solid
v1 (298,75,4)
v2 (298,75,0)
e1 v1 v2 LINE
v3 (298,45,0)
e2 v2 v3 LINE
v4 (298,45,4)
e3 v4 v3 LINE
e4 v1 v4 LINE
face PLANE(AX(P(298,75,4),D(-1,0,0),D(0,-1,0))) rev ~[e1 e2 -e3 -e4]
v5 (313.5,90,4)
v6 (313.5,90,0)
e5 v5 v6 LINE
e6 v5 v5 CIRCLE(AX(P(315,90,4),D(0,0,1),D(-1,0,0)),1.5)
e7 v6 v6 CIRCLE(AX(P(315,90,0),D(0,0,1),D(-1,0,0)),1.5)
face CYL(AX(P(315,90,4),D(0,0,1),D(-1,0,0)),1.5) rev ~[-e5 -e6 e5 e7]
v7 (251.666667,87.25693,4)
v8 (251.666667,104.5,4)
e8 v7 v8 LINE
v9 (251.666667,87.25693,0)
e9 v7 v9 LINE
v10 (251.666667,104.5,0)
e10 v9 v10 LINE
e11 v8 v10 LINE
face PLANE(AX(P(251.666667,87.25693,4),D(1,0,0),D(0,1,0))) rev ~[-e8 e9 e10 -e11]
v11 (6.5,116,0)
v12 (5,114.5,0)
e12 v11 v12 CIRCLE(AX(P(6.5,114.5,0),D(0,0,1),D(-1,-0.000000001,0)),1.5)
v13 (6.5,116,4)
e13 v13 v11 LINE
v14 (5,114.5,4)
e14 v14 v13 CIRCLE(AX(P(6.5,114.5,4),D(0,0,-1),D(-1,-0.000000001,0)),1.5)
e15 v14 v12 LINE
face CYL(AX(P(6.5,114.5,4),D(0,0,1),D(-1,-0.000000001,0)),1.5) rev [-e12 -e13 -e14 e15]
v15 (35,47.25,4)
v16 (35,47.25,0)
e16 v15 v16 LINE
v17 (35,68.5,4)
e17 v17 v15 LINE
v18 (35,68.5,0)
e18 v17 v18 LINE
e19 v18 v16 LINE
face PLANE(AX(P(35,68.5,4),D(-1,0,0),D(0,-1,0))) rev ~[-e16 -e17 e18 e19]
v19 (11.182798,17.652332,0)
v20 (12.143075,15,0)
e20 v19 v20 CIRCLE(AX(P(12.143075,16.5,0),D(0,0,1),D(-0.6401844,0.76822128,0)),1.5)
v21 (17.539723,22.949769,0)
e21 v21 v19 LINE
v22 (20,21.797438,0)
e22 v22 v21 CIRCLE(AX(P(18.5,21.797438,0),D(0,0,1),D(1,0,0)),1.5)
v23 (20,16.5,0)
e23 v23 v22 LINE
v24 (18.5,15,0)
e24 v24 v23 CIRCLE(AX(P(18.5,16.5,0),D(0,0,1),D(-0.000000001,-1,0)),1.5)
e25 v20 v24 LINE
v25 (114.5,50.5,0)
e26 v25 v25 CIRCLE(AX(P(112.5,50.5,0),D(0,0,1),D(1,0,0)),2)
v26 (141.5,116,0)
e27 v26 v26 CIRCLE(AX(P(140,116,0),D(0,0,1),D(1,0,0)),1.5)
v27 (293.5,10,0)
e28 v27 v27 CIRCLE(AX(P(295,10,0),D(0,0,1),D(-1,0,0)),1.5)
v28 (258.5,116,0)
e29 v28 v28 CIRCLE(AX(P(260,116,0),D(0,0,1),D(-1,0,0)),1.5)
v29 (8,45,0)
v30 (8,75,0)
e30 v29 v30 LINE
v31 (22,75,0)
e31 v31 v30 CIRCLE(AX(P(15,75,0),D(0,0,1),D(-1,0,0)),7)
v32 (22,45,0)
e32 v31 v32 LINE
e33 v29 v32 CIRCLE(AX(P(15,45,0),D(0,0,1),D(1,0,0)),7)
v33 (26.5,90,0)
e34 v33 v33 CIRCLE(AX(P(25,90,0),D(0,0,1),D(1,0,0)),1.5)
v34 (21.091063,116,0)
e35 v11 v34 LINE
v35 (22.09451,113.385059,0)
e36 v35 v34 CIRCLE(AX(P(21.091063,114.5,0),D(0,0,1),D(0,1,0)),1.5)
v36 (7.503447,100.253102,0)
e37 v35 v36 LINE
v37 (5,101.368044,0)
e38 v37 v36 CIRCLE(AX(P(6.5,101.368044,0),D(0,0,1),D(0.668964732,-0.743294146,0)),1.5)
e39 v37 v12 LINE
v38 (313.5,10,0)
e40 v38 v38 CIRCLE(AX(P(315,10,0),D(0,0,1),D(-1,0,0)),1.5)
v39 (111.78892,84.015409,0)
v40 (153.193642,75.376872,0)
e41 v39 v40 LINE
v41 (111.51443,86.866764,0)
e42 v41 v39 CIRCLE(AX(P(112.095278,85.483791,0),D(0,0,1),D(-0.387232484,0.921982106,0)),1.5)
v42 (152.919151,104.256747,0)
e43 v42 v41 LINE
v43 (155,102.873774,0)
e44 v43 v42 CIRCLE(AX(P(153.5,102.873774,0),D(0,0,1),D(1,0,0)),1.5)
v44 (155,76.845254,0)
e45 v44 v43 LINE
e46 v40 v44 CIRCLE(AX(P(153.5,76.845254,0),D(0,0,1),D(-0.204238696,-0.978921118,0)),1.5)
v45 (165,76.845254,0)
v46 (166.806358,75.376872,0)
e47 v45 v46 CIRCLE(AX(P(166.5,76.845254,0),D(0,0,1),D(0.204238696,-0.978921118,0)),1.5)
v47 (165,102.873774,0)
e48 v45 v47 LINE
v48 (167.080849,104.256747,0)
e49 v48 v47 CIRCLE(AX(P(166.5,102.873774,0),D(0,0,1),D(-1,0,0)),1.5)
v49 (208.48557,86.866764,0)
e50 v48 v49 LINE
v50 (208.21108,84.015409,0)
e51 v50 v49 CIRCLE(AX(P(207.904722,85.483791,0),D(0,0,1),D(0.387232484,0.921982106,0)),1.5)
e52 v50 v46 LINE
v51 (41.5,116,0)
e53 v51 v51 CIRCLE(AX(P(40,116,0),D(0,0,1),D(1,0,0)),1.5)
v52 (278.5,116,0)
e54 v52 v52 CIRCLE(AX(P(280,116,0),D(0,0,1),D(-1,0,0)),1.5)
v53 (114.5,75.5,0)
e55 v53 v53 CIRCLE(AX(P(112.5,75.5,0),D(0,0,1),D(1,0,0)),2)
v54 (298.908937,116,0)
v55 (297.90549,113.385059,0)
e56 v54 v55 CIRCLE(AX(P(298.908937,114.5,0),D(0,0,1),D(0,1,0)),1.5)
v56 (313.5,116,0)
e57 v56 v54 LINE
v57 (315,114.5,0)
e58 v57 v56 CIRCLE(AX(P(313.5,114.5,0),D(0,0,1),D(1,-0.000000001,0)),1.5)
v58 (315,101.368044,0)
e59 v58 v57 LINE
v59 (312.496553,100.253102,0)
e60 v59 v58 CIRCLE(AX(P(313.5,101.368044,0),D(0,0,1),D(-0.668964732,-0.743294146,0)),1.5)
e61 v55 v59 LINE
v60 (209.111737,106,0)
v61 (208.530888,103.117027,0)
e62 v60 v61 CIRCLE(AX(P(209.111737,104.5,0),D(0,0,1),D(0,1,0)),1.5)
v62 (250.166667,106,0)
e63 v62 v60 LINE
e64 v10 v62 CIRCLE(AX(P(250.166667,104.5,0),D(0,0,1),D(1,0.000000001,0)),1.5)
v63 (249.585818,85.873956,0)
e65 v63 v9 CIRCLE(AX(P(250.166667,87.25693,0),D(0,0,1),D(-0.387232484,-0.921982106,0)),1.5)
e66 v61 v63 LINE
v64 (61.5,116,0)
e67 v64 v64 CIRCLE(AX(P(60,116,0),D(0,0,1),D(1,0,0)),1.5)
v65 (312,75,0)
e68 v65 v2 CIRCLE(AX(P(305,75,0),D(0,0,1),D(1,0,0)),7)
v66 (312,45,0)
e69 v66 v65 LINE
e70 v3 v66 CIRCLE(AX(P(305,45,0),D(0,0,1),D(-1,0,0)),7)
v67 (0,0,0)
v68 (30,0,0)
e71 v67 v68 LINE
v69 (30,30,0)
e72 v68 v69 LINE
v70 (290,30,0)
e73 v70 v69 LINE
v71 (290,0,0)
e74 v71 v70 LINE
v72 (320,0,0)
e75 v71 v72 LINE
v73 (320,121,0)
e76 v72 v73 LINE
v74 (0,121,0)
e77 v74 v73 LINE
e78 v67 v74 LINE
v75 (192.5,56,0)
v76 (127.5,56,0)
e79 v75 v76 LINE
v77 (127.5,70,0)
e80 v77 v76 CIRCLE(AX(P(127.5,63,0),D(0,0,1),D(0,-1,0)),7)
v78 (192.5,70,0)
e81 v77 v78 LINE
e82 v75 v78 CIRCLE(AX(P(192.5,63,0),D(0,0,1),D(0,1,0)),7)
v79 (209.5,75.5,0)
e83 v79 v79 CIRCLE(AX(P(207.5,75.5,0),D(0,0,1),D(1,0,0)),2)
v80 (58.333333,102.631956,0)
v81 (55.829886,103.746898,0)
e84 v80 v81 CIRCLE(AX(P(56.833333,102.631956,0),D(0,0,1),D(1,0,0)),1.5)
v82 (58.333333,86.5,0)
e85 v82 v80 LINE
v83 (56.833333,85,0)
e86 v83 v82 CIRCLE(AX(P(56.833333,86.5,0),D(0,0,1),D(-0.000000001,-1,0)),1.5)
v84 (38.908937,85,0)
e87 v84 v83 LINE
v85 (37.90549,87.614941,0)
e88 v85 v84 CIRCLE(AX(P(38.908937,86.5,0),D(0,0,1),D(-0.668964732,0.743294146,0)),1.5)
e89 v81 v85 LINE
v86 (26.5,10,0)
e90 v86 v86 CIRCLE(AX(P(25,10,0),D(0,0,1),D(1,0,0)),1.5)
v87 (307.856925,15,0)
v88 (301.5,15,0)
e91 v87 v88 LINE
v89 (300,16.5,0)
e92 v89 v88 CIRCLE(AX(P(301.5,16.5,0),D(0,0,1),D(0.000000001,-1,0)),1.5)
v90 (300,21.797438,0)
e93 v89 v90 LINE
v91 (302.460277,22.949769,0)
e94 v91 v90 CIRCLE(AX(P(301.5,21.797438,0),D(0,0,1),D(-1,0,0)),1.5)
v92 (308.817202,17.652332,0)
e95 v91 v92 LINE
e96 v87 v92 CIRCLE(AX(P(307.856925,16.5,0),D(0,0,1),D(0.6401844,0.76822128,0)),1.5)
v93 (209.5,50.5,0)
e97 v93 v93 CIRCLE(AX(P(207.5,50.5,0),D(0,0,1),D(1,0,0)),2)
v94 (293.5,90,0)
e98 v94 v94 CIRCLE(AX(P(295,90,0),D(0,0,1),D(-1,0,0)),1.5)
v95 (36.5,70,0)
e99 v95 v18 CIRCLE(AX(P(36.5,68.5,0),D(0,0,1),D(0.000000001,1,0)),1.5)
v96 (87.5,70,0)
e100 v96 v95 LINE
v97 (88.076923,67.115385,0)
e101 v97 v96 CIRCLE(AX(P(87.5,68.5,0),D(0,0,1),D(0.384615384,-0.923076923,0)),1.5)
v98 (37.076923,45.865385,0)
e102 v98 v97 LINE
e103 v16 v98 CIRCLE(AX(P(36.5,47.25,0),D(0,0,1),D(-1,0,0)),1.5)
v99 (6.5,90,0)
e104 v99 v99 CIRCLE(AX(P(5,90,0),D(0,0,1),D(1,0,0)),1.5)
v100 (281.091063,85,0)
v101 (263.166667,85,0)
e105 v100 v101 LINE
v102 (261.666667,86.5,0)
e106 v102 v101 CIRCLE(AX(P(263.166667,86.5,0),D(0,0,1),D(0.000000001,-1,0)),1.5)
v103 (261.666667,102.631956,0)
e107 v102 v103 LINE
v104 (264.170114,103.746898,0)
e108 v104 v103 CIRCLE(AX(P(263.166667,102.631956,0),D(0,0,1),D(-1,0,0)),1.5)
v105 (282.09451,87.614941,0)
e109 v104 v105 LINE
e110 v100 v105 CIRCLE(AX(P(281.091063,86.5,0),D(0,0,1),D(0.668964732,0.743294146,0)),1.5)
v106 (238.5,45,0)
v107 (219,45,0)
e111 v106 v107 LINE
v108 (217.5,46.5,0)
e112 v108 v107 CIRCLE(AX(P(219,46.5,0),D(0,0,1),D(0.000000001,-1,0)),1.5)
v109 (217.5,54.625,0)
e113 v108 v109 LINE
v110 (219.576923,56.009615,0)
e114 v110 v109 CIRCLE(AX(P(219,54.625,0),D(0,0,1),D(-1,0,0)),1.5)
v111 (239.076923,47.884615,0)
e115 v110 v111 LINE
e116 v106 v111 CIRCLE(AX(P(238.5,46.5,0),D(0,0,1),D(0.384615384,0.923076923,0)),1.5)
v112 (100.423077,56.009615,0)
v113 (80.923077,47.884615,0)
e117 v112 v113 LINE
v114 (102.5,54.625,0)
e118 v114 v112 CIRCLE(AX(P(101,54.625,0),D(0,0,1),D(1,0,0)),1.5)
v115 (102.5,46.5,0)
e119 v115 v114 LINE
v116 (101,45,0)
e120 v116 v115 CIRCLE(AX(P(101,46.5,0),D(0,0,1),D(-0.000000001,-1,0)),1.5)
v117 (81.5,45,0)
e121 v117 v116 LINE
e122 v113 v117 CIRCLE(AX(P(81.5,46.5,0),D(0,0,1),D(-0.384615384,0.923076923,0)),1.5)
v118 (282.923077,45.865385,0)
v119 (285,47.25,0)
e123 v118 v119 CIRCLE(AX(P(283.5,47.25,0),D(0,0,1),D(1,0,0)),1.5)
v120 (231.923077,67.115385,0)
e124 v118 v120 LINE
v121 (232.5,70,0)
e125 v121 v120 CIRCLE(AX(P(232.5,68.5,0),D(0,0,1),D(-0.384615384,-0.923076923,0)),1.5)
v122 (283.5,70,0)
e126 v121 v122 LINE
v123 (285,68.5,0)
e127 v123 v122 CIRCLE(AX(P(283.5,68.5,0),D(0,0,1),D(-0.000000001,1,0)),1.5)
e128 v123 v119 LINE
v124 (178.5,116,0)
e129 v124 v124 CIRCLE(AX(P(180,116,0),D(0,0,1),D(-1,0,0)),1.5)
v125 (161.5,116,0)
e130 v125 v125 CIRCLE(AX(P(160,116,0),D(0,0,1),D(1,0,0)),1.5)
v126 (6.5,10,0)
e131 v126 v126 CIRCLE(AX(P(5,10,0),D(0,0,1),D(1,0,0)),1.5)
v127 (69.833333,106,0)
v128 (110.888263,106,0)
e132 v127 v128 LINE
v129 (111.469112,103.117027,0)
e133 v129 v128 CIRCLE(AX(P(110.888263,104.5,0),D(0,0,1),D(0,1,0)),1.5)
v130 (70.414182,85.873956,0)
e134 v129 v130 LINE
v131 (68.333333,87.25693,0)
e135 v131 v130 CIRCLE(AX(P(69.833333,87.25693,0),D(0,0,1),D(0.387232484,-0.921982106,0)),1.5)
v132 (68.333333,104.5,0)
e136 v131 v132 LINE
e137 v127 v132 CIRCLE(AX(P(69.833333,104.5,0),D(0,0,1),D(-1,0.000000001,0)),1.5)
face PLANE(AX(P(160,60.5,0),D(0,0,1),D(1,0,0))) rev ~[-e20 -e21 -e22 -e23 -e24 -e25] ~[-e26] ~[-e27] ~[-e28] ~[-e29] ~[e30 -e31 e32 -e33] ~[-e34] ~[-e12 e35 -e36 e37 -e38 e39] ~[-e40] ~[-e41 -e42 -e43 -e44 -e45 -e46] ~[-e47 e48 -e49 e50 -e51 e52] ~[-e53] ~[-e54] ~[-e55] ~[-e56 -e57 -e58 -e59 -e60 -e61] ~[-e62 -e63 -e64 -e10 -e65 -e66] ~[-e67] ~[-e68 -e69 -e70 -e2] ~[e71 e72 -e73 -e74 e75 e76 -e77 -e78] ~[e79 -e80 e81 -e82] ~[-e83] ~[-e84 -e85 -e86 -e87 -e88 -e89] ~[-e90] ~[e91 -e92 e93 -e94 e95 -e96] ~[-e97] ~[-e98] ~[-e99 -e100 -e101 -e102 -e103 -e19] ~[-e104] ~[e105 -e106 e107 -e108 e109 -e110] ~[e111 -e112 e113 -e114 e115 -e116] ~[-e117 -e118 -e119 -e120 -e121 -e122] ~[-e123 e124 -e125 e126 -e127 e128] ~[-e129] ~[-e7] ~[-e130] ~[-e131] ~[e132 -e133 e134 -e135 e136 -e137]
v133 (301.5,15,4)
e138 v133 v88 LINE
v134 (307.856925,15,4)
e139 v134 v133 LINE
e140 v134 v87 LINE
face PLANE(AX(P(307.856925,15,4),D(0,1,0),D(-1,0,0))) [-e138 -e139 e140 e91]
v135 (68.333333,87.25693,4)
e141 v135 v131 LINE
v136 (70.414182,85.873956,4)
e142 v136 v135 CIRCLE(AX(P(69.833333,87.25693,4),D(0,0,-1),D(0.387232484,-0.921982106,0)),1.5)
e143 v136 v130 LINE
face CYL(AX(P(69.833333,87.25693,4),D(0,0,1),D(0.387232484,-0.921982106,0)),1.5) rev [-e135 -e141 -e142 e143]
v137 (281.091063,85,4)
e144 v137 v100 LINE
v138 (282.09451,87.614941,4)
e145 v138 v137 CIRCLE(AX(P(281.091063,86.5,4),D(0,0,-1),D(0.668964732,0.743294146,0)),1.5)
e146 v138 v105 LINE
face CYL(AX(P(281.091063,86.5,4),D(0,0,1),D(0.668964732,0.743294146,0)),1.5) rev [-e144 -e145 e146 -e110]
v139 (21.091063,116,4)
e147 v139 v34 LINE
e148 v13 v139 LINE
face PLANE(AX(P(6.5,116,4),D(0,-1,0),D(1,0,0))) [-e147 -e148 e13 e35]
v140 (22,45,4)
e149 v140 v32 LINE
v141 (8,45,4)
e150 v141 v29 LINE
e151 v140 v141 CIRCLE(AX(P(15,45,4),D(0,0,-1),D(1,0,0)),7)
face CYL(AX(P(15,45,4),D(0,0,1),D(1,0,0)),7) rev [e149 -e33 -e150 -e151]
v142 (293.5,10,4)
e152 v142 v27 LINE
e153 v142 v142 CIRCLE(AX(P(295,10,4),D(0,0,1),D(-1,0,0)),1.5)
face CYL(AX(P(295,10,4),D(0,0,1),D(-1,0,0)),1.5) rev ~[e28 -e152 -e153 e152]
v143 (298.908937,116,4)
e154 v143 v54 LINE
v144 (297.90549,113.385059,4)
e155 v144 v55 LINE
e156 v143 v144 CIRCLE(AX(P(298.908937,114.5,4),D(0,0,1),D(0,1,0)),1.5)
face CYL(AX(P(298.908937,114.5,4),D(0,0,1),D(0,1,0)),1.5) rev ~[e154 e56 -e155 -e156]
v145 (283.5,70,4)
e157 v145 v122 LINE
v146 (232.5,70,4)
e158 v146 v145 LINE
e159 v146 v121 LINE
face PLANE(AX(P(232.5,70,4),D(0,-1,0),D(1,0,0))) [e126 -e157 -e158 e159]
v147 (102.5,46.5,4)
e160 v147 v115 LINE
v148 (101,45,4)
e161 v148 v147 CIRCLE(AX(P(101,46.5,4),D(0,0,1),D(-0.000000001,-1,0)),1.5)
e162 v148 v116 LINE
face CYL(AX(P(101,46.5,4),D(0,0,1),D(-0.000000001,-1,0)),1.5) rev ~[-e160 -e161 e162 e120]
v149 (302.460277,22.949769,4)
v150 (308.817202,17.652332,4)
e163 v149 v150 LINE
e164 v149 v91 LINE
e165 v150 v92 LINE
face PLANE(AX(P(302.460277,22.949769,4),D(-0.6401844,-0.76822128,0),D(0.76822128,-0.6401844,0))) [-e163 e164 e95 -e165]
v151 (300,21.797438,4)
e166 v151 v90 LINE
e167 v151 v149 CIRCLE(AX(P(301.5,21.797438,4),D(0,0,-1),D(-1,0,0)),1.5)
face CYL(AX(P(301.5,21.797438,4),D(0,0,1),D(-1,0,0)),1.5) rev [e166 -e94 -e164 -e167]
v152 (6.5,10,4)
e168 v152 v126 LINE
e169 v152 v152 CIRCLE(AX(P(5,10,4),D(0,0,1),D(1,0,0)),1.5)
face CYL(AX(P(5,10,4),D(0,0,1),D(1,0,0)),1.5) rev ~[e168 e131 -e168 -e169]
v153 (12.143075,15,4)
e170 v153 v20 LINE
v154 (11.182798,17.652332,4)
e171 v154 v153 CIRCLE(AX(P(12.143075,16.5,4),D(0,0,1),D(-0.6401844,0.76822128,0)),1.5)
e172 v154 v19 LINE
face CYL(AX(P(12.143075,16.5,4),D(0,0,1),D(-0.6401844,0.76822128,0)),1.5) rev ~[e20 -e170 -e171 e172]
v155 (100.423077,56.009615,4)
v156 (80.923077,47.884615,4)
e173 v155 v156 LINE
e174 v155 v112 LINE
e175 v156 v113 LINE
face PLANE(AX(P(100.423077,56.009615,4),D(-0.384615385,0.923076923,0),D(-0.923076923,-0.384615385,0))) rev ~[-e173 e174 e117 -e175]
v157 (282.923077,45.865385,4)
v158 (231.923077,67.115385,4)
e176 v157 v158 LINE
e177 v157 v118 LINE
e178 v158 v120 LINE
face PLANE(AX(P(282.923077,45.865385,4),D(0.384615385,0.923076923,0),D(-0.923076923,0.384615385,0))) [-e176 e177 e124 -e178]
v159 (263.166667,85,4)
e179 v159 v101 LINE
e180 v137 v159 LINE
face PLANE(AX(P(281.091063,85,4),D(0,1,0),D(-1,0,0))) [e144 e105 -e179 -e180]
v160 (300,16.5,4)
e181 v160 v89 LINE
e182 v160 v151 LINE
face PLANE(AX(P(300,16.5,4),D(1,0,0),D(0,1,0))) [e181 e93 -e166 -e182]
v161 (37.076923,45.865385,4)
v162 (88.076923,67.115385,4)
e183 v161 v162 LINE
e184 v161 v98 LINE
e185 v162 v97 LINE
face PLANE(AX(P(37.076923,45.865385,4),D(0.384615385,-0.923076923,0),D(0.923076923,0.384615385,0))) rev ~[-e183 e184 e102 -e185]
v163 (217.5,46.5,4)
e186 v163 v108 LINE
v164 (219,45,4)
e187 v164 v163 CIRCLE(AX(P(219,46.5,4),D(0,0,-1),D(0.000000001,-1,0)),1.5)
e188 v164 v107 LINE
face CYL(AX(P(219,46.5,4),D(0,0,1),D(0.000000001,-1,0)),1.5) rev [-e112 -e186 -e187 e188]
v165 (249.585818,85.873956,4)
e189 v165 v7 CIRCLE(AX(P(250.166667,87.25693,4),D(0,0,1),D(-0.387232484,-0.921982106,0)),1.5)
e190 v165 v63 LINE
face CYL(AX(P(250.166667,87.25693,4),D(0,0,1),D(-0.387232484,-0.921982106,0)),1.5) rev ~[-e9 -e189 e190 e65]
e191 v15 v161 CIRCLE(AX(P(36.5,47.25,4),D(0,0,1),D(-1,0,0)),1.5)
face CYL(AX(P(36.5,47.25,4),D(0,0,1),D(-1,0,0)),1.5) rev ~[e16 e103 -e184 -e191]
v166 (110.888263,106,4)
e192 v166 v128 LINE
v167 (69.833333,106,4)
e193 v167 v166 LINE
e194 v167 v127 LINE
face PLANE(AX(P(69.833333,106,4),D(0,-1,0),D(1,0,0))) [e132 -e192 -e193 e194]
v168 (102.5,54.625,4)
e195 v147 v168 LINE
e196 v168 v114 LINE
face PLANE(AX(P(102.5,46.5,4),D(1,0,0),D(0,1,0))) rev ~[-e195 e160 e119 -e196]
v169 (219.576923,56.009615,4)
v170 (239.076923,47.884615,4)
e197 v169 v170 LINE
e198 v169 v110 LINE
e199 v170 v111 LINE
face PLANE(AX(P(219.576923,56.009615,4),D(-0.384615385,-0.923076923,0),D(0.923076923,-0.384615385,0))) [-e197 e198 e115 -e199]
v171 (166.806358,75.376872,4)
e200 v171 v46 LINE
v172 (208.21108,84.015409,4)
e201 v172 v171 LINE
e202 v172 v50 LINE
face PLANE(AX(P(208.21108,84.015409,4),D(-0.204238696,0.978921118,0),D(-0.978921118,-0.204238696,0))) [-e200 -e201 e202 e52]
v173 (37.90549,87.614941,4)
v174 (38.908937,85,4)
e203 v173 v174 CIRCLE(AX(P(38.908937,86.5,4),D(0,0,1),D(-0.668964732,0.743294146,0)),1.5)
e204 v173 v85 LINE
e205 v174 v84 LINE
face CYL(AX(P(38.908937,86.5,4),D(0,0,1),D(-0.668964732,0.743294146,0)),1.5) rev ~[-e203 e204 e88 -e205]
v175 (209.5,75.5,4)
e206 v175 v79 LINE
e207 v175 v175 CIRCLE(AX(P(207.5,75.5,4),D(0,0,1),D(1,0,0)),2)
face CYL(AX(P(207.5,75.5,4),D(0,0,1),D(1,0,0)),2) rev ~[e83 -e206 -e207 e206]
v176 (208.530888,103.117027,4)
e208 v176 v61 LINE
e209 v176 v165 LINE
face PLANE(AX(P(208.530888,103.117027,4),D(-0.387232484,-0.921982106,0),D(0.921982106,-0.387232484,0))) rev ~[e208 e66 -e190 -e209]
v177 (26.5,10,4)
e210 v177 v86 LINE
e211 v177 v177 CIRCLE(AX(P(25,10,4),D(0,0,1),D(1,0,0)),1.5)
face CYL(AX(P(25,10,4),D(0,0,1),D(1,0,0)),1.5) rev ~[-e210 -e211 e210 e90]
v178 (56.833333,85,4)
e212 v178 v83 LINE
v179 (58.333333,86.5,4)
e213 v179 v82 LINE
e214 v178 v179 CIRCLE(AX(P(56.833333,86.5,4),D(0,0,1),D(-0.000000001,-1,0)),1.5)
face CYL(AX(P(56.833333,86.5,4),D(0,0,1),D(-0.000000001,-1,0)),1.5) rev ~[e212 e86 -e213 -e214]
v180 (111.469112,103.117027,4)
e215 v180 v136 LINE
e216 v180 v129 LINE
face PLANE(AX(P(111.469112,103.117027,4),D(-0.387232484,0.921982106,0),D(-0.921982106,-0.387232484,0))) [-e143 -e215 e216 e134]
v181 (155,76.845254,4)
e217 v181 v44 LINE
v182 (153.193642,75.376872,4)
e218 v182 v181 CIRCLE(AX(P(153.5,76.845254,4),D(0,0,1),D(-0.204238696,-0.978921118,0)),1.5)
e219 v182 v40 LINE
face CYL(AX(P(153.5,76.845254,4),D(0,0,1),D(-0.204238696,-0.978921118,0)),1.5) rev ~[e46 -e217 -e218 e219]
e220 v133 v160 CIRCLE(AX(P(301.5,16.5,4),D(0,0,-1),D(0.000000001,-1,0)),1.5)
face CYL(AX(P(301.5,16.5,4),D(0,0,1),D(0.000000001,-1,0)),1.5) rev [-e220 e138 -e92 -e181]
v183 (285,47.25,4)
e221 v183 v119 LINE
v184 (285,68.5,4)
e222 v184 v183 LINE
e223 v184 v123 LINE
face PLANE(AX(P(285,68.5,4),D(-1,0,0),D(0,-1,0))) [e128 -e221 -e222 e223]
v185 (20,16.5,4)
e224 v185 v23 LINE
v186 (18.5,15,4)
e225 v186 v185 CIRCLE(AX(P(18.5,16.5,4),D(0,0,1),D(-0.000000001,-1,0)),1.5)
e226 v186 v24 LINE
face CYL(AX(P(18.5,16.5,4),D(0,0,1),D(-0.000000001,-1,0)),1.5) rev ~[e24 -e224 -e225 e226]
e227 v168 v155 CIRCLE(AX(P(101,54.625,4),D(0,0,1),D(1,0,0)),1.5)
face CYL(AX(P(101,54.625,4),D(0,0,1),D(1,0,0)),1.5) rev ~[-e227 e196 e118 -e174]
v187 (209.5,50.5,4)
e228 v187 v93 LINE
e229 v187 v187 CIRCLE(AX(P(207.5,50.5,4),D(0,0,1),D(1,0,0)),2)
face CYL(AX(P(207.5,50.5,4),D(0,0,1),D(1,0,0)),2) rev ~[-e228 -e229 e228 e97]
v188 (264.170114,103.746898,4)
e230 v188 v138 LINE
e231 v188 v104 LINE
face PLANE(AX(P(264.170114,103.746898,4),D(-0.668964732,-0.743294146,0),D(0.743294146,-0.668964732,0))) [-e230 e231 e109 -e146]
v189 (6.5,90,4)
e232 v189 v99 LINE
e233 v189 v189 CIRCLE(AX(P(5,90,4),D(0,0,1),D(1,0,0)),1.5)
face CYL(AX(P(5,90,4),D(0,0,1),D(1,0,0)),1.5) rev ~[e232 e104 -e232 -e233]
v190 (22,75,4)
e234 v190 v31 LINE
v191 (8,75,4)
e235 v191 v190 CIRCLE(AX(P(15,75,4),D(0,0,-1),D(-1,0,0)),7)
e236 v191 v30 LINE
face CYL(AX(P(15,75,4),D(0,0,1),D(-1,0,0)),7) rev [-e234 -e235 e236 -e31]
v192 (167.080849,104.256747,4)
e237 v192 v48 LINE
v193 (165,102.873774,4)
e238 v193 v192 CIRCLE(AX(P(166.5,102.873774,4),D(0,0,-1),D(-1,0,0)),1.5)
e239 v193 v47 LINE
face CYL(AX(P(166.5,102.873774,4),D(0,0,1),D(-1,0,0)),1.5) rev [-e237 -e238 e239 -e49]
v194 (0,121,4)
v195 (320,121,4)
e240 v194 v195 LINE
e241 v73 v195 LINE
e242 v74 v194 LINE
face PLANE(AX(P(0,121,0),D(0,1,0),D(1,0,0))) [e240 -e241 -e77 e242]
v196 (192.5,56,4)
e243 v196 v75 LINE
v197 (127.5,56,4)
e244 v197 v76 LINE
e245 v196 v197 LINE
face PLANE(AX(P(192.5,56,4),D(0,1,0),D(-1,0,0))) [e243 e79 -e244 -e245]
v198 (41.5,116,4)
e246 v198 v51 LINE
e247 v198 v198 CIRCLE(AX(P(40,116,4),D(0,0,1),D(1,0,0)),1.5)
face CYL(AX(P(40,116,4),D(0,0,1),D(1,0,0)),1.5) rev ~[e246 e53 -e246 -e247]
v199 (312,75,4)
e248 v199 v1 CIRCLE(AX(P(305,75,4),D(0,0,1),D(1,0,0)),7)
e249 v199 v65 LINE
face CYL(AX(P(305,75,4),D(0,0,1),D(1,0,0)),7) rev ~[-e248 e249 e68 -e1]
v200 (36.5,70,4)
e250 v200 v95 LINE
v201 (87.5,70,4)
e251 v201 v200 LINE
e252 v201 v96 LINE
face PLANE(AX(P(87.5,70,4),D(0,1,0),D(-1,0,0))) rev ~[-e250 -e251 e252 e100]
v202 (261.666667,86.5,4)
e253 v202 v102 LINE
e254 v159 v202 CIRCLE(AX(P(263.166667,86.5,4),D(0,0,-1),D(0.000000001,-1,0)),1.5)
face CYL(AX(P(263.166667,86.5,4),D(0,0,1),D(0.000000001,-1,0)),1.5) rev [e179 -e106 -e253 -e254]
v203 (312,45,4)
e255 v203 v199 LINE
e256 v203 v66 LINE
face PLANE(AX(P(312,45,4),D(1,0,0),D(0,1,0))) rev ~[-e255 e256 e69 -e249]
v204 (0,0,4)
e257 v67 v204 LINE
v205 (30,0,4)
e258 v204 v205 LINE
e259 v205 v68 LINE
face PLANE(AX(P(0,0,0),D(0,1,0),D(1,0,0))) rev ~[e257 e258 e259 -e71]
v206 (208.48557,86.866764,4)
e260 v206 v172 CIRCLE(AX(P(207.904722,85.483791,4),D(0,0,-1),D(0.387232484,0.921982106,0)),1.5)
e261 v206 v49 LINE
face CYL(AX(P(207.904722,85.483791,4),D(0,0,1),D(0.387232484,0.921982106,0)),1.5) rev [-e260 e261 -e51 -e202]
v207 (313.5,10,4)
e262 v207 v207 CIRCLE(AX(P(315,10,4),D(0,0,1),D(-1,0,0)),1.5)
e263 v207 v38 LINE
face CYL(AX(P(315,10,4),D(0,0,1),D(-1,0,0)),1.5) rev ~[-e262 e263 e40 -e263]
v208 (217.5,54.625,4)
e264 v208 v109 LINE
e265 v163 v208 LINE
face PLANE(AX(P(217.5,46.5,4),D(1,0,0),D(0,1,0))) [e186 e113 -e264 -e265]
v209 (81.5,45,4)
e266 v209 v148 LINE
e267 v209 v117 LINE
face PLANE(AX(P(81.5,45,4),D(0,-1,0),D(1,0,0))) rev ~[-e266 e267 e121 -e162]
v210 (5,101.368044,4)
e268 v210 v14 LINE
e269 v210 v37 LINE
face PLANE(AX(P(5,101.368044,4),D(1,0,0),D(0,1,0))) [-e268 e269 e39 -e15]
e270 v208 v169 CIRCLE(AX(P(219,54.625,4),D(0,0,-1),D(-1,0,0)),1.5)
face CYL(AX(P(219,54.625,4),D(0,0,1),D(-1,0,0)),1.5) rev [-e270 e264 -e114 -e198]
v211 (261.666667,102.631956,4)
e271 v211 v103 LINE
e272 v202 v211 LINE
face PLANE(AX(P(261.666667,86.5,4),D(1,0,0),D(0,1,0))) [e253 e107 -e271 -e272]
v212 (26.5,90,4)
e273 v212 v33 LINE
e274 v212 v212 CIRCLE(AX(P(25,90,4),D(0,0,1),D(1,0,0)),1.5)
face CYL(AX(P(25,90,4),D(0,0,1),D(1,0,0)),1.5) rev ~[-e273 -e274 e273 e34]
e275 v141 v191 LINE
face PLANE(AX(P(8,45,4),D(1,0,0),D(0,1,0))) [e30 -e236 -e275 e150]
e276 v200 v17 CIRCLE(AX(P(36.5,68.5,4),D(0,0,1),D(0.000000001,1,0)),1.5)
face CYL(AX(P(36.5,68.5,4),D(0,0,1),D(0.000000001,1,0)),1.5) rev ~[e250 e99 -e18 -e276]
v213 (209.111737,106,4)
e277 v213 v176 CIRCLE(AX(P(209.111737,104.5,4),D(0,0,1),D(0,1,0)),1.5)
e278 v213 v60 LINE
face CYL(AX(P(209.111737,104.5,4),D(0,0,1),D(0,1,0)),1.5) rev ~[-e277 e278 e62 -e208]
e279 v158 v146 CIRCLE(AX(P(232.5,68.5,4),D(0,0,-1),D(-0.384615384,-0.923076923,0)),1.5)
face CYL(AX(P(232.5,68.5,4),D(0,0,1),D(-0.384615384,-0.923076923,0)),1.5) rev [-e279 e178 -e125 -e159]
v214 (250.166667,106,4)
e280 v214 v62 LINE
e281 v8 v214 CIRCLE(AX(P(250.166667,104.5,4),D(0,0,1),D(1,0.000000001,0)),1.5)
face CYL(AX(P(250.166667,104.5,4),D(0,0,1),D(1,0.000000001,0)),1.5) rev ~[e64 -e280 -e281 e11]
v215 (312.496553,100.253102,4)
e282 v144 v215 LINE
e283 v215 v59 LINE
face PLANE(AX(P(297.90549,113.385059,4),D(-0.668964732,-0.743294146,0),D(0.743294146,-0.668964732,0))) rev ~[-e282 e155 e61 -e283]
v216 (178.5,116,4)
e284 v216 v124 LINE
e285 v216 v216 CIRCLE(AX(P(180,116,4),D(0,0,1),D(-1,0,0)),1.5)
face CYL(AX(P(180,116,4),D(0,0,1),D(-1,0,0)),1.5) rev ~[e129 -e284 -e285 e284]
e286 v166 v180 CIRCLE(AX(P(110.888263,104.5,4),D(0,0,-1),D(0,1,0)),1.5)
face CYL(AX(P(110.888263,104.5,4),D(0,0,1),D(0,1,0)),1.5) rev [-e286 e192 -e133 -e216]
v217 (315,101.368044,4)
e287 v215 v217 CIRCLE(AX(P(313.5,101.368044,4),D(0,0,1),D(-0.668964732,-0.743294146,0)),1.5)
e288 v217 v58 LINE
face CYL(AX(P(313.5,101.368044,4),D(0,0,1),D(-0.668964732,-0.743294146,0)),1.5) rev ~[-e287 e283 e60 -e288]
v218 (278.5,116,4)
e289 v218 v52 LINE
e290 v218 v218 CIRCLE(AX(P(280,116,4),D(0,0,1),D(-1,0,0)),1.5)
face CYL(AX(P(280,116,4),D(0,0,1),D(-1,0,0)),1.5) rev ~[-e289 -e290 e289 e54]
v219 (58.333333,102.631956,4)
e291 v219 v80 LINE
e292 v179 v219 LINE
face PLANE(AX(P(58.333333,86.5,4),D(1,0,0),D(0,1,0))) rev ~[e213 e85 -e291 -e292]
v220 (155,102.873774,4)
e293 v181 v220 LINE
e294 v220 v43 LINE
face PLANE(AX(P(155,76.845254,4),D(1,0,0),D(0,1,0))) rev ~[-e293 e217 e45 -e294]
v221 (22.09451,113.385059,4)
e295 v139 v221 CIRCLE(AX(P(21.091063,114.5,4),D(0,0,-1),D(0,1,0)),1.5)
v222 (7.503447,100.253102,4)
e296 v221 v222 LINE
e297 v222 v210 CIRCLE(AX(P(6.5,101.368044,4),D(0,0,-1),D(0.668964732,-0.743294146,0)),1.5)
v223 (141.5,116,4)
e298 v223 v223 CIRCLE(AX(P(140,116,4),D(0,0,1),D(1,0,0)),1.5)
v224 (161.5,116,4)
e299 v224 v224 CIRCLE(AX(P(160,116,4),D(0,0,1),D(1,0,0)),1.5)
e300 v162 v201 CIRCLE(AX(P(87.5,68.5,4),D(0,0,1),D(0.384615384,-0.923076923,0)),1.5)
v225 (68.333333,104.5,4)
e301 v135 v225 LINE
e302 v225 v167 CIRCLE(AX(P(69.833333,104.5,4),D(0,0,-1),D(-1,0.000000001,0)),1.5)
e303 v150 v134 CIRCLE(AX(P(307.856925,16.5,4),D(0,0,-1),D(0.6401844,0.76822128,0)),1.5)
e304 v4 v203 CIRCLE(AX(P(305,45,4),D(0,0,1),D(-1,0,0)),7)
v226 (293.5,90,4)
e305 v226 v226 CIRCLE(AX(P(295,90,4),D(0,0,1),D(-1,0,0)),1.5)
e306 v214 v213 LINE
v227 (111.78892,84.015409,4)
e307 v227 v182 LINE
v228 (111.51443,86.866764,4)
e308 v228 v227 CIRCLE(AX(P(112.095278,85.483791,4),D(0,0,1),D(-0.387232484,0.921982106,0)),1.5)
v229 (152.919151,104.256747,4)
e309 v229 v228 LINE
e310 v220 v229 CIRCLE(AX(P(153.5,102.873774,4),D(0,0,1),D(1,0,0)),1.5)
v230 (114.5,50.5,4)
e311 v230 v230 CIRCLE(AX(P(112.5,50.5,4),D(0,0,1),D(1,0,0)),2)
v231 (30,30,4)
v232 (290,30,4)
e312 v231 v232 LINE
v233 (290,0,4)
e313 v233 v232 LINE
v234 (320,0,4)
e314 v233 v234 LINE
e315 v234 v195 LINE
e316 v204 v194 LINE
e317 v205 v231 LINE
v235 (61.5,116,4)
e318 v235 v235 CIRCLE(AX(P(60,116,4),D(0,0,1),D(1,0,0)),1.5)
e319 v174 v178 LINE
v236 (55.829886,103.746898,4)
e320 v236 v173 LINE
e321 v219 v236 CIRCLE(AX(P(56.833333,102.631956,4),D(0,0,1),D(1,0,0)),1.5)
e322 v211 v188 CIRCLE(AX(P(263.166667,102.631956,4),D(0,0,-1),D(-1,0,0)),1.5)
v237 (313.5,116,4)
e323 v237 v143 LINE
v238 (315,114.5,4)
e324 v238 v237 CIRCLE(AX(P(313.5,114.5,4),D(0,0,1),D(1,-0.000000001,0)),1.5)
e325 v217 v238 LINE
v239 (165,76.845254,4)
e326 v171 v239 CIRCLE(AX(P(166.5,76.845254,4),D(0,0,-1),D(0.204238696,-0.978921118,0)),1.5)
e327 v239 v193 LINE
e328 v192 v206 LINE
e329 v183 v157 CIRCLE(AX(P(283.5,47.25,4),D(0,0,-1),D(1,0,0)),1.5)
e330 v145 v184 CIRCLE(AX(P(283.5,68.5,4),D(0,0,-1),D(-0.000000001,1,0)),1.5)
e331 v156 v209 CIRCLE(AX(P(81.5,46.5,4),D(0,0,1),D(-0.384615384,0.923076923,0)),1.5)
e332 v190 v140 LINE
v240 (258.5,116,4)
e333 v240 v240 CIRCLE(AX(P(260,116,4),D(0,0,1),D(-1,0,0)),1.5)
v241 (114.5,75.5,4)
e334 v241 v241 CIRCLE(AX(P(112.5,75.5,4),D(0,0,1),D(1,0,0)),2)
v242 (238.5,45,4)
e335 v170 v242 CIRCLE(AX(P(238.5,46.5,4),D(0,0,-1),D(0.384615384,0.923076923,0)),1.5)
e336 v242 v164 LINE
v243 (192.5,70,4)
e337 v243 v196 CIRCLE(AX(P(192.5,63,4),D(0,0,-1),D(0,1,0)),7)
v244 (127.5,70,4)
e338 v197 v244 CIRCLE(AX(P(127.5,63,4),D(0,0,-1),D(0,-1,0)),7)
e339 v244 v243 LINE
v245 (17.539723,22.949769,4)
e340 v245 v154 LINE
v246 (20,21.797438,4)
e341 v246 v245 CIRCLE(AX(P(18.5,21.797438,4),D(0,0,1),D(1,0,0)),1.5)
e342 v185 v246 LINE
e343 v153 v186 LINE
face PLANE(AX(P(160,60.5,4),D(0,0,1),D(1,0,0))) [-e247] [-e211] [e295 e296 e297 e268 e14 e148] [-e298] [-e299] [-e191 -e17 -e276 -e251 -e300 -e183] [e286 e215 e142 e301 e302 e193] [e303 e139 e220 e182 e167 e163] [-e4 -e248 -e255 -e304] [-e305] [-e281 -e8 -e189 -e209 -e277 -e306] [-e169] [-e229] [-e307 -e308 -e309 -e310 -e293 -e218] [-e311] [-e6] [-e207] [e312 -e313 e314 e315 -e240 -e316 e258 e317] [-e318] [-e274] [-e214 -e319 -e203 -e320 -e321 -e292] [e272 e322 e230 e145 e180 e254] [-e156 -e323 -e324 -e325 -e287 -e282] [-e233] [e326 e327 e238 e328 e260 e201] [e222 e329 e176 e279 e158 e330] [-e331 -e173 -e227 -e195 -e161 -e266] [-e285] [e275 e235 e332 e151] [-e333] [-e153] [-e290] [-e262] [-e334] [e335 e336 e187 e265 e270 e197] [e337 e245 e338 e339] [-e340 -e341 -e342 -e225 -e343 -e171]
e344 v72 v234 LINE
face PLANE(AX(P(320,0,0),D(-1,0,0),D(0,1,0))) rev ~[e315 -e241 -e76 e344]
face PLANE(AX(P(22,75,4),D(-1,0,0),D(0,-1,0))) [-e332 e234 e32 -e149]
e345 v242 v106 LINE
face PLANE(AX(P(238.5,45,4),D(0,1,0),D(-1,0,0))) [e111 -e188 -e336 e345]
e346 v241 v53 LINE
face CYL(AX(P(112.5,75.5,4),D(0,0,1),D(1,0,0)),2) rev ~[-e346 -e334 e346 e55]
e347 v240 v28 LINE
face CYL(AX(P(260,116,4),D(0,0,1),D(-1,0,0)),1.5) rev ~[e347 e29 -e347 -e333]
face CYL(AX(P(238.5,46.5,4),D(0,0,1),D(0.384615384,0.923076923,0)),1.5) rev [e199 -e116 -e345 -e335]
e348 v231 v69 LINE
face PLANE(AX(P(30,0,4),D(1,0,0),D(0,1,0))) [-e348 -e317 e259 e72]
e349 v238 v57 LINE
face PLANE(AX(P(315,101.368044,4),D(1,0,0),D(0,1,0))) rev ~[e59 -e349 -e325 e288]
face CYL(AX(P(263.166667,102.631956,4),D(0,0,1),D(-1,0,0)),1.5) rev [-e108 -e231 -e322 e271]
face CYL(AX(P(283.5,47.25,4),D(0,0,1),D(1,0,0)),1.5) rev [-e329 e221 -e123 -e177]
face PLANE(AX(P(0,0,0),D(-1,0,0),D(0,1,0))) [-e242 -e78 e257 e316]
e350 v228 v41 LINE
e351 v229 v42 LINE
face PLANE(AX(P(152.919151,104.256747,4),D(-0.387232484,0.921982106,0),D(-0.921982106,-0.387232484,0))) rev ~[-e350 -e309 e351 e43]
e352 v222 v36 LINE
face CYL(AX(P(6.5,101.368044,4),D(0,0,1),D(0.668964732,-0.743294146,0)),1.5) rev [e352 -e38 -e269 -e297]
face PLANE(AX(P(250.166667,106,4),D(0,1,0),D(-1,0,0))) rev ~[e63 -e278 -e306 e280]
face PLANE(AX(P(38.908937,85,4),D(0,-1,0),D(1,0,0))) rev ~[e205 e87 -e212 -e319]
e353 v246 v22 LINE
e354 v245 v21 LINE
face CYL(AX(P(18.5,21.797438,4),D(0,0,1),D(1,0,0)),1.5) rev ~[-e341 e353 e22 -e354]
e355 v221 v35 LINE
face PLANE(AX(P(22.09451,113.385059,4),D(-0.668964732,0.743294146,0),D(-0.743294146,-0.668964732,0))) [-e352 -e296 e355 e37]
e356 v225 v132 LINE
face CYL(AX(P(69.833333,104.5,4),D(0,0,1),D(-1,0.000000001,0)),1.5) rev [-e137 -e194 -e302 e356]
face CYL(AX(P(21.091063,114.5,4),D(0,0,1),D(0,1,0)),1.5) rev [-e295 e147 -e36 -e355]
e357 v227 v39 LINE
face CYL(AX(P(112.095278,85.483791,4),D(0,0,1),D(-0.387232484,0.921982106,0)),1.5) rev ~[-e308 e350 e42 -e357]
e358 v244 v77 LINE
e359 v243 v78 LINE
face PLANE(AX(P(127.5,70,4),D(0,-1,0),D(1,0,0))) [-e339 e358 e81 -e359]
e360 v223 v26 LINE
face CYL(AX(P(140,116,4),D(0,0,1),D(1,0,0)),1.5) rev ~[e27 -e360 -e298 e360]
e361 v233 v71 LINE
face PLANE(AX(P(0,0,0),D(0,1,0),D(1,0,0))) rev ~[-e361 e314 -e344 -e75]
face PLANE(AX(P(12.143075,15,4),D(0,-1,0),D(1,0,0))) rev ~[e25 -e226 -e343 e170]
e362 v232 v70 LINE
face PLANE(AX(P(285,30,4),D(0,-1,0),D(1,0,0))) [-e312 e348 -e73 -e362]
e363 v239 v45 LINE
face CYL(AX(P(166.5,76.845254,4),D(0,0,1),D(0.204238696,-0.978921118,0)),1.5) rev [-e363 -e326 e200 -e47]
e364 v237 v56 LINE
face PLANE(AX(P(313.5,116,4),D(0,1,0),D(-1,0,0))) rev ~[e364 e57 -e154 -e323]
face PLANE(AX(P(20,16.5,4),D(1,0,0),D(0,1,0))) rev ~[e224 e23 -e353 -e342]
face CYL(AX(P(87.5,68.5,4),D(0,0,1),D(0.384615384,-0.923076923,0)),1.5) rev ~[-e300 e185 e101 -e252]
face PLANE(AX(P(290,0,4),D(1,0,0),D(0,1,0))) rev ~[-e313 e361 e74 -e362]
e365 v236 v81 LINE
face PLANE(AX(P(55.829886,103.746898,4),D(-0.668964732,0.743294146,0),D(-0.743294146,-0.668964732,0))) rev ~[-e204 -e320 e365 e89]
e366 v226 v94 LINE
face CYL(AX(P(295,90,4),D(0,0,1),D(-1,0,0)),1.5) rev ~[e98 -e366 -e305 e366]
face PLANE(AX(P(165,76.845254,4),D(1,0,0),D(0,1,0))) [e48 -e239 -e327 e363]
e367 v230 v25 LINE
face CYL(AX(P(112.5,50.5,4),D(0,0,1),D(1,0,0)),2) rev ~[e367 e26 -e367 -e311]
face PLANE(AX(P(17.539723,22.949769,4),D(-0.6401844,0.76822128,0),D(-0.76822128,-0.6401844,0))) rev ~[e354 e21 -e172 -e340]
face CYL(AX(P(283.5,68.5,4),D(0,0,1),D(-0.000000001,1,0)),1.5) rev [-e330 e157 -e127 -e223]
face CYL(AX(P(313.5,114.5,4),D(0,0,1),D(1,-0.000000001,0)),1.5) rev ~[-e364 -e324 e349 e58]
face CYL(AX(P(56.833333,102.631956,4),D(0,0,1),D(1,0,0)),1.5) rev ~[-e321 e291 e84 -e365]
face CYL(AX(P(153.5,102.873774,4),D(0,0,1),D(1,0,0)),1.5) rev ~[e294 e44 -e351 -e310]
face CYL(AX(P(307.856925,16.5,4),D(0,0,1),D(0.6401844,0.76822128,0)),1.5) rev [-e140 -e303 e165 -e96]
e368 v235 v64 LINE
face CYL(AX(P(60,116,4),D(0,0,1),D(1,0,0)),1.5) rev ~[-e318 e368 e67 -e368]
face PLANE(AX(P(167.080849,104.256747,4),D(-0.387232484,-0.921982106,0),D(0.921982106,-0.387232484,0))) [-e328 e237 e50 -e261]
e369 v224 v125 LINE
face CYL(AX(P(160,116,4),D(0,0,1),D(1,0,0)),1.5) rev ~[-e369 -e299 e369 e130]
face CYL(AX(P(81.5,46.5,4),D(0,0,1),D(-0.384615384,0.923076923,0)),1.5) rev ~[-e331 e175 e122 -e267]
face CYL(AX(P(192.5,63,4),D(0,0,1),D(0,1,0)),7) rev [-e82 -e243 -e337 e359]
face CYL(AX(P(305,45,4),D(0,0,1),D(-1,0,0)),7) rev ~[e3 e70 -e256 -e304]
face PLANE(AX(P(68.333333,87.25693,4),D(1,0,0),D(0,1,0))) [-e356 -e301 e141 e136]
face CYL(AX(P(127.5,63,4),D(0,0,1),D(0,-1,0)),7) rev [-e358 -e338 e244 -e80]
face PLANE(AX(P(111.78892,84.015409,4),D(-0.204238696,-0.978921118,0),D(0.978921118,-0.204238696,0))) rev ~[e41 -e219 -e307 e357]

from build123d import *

# Parameters (mm, degrees)
SKETCH_1_W          = 320
SKETCH_1_H          = 121
EXTRUDE_1_DEPTH     = 4
SKETCH_2_W          = 5
SKETCH_2_H          = 30
CUT_EXTRUDE_1_DEPTH = 343.135937896
SKETCH_3_R          = 1.5
CUT_EXTRUDE_2_DEPTH = 343.135937896
SKETCH_4_R          = 1.5
CUT_EXTRUDE_3_DEPTH = 343.135937896
SKETCH_6_R          = 2
CUT_EXTRUDE_5_DEPTH = 343.135937896
SKETCH_5_W          = 250
SKETCH_5_H          = 30
CUT_EXTRUDE_4_DEPTH = 343.135937896


with BuildPart() as part:
    # 草图1 → 凸台-拉伸1 (new body)
    with BuildSketch(Plane.XY):
        with Locations((160, 60.5)):
            Rectangle(SKETCH_1_W, SKETCH_1_H)
    extrude(amount=EXTRUDE_1_DEPTH)

    # 草图2 → 切除-拉伸1 (cut, through all)
    with BuildSketch(Plane.XY.offset(4)):
        with Locations((32.5, 15)):
            Rectangle(SKETCH_2_W, SKETCH_2_H)
        with Locations((287.5, 15)):
            Rectangle(SKETCH_2_W, SKETCH_2_H)
    extrude(amount=-CUT_EXTRUDE_1_DEPTH, mode=Mode.SUBTRACT)

    # 草图3 → 切除-拉伸2 (cut, through all)
    with BuildSketch(Plane.XY.offset(4)):
        with Locations((40, 116)):
            Circle(SKETCH_3_R)
        with Locations((60, 116)):
            Circle(SKETCH_3_R)
        with Locations((140, 116)):
            Circle(SKETCH_3_R)
        with Locations((160, 116)):
            Circle(SKETCH_3_R)
        with Locations(Location((260, 116, 0), (0, 0, 180))):
            Circle(SKETCH_3_R)
        with Locations(Location((280, 116, 0), (0, 0, 180))):
            Circle(SKETCH_3_R)
        with Locations(Location((180, 116, 0), (0, 0, 180))):
            Circle(SKETCH_3_R)
    extrude(amount=-CUT_EXTRUDE_2_DEPTH, mode=Mode.SUBTRACT)

    # 草图4 → 切除-拉伸3 (cut, through all)
    with BuildSketch(Plane.XY.offset(4)):
        with Locations((5, 90)):
            Circle(SKETCH_4_R)
        with Locations((25, 90)):
            Circle(SKETCH_4_R)
        with Locations((5, 10)):
            Circle(SKETCH_4_R)
        with Locations((25, 10)):
            Circle(SKETCH_4_R)
        with Locations(Location((295, 10, 0), (0, 0, 180))):
            Circle(SKETCH_4_R)
        with Locations(Location((315, 10, 0), (0, 0, 180))):
            Circle(SKETCH_4_R)
        with Locations(Location((295, 90, 0), (0, 0, 180))):
            Circle(SKETCH_4_R)
        with Locations(Location((315, 90, 0), (0, 0, 180))):
            Circle(SKETCH_4_R)
    extrude(amount=-CUT_EXTRUDE_3_DEPTH, mode=Mode.SUBTRACT)

    # 草图6 → 切除-拉伸5 (cut, through all)
    with BuildSketch(Plane.XY.offset(4)):
        with Locations((112.5, 75.5)):
            Circle(SKETCH_6_R)
        with Locations((207.5, 75.5)):
            Circle(SKETCH_6_R)
        with Locations((207.5, 50.5)):
            Circle(SKETCH_6_R)
        with Locations((112.5, 50.5)):
            Circle(SKETCH_6_R)
        with BuildLine():
            Line((127.5, 70), (192.5, 70))
            ThreePointArc((192.5, 70), (199.5, 63), (192.5, 56))
            Line((192.5, 56), (127.5, 56))
            ThreePointArc((127.5, 56), (120.5, 63), (127.5, 70))
        make_face()
    extrude(amount=-CUT_EXTRUDE_5_DEPTH, mode=Mode.SUBTRACT)

    # 草图5 → 切除-拉伸4 (cut, through all)
    with BuildSketch(Plane.XY.offset(4)):
        with BuildLine():
            Line((5, 101.368043607), (5, 114.5))
            ThreePointArc((5, 114.5), (5.439339828, 115.560660172), (6.5, 116))
            Line((6.5, 116), (21.091062659, 116))
            ThreePointArc((21.091062659, 116), (22.491493276, 115.037395651), (22.094509756, 113.385058781))
            Line((22.094509756, 113.385058781), (7.503447097, 100.253102388))
            ThreePointArc((7.503447097, 100.253102388), (5.889742123, 99.997793512), (5, 101.368043607))
        make_face()
        with BuildLine():
            Line((22, 75), (22, 45))
            ThreePointArc((22, 45), (15, 38), (8, 45))
            Line((8, 45), (8, 75))
            ThreePointArc((8, 75), (15, 82), (22, 75))
        make_face()
        with BuildLine():
            Line((38.908937341, 85), (56.833333333, 85))
            ThreePointArc((56.833333333, 85), (57.893993505, 85.439339828), (58.333333333, 86.5))
            Line((58.333333333, 86.5), (58.333333333, 102.631956393))
            ThreePointArc((58.333333333, 102.631956393), (57.443591211, 104.002206488), (55.829886236, 103.746897612))
            Line((55.829886236, 103.746897612), (37.905490244, 87.614941219))
            ThreePointArc((37.905490244, 87.614941219), (37.508506724, 85.962604349), (38.908937341, 85))
        make_face()
        with BuildLine():
            Line((35, 68.5), (35, 47.25))
            ThreePointArc((35, 47.25), (35.667949706, 46.001924558), (37.076923077, 45.865384615))
            Line((37.076923077, 45.865384615), (88.076923077, 67.115384615))
            ThreePointArc((88.076923077, 67.115384615), (88.970871014, 68.794174203), (87.5, 70))
            Line((87.5, 70), (36.5, 70))
            ThreePointArc((36.5, 70), (35.439339828, 69.560660172), (35, 68.5))
        make_face()
        with Locations((160, 15)):
            Rectangle(SKETCH_5_W, SKETCH_5_H)
        with BuildLine():
            Line((81.5, 45), (101, 45))
            ThreePointArc((101, 45), (102.060660172, 45.439339828), (102.5, 46.5))
            Line((102.5, 46.5), (102.5, 54.625))
            ThreePointArc((102.5, 54.625), (101.832050294, 55.873075442), (100.423076923, 56.009615385))
            Line((100.423076923, 56.009615385), (80.923076923, 47.884615385))
            ThreePointArc((80.923076923, 47.884615385), (80.029128986, 46.205825797), (81.5, 45))
        make_face()
        with BuildLine():
            Line((68.333333333, 87.256929624), (68.333333333, 104.5))
            ThreePointArc((68.333333333, 104.5), (68.772673162, 105.560660172), (69.833333333, 106))
            Line((69.833333333, 106), (110.888262801, 106))
            ThreePointArc((110.888262801, 106), (112.358715068, 104.796260242), (111.469111528, 103.117026842))
            Line((111.469111528, 103.117026842), (70.41418206, 85.873956465))
            ThreePointArc((70.41418206, 85.873956465), (69.00305419, 86.007675228), (68.333333333, 87.256929624))
        make_face()
        with BuildLine():
            Line((111.788920254, 84.01540935), (153.193641955, 75.376872258))
            ThreePointArc((153.193641955, 75.376872258), (154.446166722, 75.68130869), (155, 76.845253935))
            Line((155, 76.845253935), (155, 102.873774141))
            ThreePointArc((155, 102.873774141), (154.330279143, 104.123028536), (152.919151273, 104.256747299))
            Line((152.919151273, 104.256747299), (111.514429572, 86.866764185))
            ThreePointArc((111.514429572, 86.866764185), (110.602180826, 85.340055375), (111.788920254, 84.01540935))
        make_face()
        with BuildLine():
            Line((167.080848727, 104.256747299), (208.485570428, 86.866764185))
            ThreePointArc((208.485570428, 86.866764185), (209.397819174, 85.340055375), (208.211079746, 84.01540935))
            Line((208.211079746, 84.01540935), (166.806358045, 75.376872258))
            ThreePointArc((166.806358045, 75.376872258), (165.553833278, 75.68130869), (165, 76.845253935))
            Line((165, 76.845253935), (165, 102.873774141))
            ThreePointArc((165, 102.873774141), (165.669720857, 104.123028536), (167.080848727, 104.256747299))
        make_face()
        with BuildLine():
            Line((208.530888472, 103.117026842), (249.58581794, 85.873956465))
            ThreePointArc((249.58581794, 85.873956465), (250.99694581, 86.007675228), (251.666666667, 87.256929624))
            Line((251.666666667, 87.256929624), (251.666666667, 104.5))
            ThreePointArc((251.666666667, 104.5), (251.227326838, 105.560660172), (250.166666667, 106))
            Line((250.166666667, 106), (209.111737199, 106))
            ThreePointArc((209.111737199, 106), (207.641284932, 104.796260242), (208.530888472, 103.117026842))
        make_face()
        with BuildLine():
            Line((219.576923077, 56.009615385), (239.076923077, 47.884615385))
            ThreePointArc((239.076923077, 47.884615385), (239.970871014, 46.205825797), (238.5, 45))
            Line((238.5, 45), (219, 45))
            ThreePointArc((219, 45), (217.939339828, 45.439339828), (217.5, 46.5))
            Line((217.5, 46.5), (217.5, 54.625))
            ThreePointArc((217.5, 54.625), (218.167949706, 55.873075442), (219.576923077, 56.009615385))
        make_face()
        with BuildLine():
            Line((232.5, 70), (283.5, 70))
            ThreePointArc((283.5, 70), (284.560660172, 69.560660172), (285, 68.5))
            Line((285, 68.5), (285, 47.25))
            ThreePointArc((285, 47.25), (284.332050294, 46.001924558), (282.923076923, 45.865384615))
            Line((282.923076923, 45.865384615), (231.923076923, 67.115384615))
            ThreePointArc((231.923076923, 67.115384615), (231.029128986, 68.794174203), (232.5, 70))
        make_face()
        with BuildLine():
            Line((264.170113764, 103.746897612), (282.094509756, 87.614941219))
            ThreePointArc((282.094509756, 87.614941219), (282.491493276, 85.962604349), (281.091062659, 85))
            Line((281.091062659, 85), (263.166666667, 85))
            ThreePointArc((263.166666667, 85), (262.106006495, 85.439339828), (261.666666667, 86.5))
            Line((261.666666667, 86.5), (261.666666667, 102.631956393))
            ThreePointArc((261.666666667, 102.631956393), (262.556408789, 104.002206488), (264.170113764, 103.746897612))
        make_face()
        with BuildLine():
            Line((297.905490244, 113.385058781), (312.496552903, 100.253102388))
            ThreePointArc((312.496552903, 100.253102388), (314.110257877, 99.997793512), (315, 101.368043607))
            Line((315, 101.368043607), (315, 114.5))
            ThreePointArc((315, 114.5), (314.560660172, 115.560660172), (313.5, 116))
            Line((313.5, 116), (298.908937341, 116))
            ThreePointArc((298.908937341, 116), (297.508506724, 115.037395651), (297.905490244, 113.385058781))
        make_face()
        with BuildLine():
            Line((298, 75), (298, 45))
            ThreePointArc((298, 45), (305, 38), (312, 45))
            Line((312, 45), (312, 75))
            ThreePointArc((312, 75), (305, 82), (298, 75))
        make_face()
        with BuildLine():
            Line((12.143074903, 15), (18.5, 15))
            ThreePointArc((18.5, 15), (19.560660172, 15.439339828), (20, 16.5))
            Line((20, 16.5), (20, 21.797437581))
            ThreePointArc((20, 21.797437581), (19.136233094, 23.155821713), (17.539723401, 22.9497695))
            Line((17.539723401, 22.9497695), (11.182798303, 17.652331919))
            ThreePointArc((11.182798303, 17.652331919), (10.732667536, 15.989362104), (12.143074903, 15))
        make_face()
        with BuildLine():
            Line((302.460276599, 22.9497695), (308.817201697, 17.652331919))
            ThreePointArc((308.817201697, 17.652331919), (309.267332464, 15.989362104), (307.856925097, 15))
            Line((307.856925097, 15), (301.5, 15))
            ThreePointArc((301.5, 15), (300.439339828, 15.439339828), (300, 16.5))
            Line((300, 16.5), (300, 21.797437581))
            ThreePointArc((300, 21.797437581), (300.863766906, 23.155821713), (302.460276599, 22.9497695))
        make_face()
    extrude(amount=-CUT_EXTRUDE_4_DEPTH, mode=Mode.SUBTRACT)


solid = part.part
